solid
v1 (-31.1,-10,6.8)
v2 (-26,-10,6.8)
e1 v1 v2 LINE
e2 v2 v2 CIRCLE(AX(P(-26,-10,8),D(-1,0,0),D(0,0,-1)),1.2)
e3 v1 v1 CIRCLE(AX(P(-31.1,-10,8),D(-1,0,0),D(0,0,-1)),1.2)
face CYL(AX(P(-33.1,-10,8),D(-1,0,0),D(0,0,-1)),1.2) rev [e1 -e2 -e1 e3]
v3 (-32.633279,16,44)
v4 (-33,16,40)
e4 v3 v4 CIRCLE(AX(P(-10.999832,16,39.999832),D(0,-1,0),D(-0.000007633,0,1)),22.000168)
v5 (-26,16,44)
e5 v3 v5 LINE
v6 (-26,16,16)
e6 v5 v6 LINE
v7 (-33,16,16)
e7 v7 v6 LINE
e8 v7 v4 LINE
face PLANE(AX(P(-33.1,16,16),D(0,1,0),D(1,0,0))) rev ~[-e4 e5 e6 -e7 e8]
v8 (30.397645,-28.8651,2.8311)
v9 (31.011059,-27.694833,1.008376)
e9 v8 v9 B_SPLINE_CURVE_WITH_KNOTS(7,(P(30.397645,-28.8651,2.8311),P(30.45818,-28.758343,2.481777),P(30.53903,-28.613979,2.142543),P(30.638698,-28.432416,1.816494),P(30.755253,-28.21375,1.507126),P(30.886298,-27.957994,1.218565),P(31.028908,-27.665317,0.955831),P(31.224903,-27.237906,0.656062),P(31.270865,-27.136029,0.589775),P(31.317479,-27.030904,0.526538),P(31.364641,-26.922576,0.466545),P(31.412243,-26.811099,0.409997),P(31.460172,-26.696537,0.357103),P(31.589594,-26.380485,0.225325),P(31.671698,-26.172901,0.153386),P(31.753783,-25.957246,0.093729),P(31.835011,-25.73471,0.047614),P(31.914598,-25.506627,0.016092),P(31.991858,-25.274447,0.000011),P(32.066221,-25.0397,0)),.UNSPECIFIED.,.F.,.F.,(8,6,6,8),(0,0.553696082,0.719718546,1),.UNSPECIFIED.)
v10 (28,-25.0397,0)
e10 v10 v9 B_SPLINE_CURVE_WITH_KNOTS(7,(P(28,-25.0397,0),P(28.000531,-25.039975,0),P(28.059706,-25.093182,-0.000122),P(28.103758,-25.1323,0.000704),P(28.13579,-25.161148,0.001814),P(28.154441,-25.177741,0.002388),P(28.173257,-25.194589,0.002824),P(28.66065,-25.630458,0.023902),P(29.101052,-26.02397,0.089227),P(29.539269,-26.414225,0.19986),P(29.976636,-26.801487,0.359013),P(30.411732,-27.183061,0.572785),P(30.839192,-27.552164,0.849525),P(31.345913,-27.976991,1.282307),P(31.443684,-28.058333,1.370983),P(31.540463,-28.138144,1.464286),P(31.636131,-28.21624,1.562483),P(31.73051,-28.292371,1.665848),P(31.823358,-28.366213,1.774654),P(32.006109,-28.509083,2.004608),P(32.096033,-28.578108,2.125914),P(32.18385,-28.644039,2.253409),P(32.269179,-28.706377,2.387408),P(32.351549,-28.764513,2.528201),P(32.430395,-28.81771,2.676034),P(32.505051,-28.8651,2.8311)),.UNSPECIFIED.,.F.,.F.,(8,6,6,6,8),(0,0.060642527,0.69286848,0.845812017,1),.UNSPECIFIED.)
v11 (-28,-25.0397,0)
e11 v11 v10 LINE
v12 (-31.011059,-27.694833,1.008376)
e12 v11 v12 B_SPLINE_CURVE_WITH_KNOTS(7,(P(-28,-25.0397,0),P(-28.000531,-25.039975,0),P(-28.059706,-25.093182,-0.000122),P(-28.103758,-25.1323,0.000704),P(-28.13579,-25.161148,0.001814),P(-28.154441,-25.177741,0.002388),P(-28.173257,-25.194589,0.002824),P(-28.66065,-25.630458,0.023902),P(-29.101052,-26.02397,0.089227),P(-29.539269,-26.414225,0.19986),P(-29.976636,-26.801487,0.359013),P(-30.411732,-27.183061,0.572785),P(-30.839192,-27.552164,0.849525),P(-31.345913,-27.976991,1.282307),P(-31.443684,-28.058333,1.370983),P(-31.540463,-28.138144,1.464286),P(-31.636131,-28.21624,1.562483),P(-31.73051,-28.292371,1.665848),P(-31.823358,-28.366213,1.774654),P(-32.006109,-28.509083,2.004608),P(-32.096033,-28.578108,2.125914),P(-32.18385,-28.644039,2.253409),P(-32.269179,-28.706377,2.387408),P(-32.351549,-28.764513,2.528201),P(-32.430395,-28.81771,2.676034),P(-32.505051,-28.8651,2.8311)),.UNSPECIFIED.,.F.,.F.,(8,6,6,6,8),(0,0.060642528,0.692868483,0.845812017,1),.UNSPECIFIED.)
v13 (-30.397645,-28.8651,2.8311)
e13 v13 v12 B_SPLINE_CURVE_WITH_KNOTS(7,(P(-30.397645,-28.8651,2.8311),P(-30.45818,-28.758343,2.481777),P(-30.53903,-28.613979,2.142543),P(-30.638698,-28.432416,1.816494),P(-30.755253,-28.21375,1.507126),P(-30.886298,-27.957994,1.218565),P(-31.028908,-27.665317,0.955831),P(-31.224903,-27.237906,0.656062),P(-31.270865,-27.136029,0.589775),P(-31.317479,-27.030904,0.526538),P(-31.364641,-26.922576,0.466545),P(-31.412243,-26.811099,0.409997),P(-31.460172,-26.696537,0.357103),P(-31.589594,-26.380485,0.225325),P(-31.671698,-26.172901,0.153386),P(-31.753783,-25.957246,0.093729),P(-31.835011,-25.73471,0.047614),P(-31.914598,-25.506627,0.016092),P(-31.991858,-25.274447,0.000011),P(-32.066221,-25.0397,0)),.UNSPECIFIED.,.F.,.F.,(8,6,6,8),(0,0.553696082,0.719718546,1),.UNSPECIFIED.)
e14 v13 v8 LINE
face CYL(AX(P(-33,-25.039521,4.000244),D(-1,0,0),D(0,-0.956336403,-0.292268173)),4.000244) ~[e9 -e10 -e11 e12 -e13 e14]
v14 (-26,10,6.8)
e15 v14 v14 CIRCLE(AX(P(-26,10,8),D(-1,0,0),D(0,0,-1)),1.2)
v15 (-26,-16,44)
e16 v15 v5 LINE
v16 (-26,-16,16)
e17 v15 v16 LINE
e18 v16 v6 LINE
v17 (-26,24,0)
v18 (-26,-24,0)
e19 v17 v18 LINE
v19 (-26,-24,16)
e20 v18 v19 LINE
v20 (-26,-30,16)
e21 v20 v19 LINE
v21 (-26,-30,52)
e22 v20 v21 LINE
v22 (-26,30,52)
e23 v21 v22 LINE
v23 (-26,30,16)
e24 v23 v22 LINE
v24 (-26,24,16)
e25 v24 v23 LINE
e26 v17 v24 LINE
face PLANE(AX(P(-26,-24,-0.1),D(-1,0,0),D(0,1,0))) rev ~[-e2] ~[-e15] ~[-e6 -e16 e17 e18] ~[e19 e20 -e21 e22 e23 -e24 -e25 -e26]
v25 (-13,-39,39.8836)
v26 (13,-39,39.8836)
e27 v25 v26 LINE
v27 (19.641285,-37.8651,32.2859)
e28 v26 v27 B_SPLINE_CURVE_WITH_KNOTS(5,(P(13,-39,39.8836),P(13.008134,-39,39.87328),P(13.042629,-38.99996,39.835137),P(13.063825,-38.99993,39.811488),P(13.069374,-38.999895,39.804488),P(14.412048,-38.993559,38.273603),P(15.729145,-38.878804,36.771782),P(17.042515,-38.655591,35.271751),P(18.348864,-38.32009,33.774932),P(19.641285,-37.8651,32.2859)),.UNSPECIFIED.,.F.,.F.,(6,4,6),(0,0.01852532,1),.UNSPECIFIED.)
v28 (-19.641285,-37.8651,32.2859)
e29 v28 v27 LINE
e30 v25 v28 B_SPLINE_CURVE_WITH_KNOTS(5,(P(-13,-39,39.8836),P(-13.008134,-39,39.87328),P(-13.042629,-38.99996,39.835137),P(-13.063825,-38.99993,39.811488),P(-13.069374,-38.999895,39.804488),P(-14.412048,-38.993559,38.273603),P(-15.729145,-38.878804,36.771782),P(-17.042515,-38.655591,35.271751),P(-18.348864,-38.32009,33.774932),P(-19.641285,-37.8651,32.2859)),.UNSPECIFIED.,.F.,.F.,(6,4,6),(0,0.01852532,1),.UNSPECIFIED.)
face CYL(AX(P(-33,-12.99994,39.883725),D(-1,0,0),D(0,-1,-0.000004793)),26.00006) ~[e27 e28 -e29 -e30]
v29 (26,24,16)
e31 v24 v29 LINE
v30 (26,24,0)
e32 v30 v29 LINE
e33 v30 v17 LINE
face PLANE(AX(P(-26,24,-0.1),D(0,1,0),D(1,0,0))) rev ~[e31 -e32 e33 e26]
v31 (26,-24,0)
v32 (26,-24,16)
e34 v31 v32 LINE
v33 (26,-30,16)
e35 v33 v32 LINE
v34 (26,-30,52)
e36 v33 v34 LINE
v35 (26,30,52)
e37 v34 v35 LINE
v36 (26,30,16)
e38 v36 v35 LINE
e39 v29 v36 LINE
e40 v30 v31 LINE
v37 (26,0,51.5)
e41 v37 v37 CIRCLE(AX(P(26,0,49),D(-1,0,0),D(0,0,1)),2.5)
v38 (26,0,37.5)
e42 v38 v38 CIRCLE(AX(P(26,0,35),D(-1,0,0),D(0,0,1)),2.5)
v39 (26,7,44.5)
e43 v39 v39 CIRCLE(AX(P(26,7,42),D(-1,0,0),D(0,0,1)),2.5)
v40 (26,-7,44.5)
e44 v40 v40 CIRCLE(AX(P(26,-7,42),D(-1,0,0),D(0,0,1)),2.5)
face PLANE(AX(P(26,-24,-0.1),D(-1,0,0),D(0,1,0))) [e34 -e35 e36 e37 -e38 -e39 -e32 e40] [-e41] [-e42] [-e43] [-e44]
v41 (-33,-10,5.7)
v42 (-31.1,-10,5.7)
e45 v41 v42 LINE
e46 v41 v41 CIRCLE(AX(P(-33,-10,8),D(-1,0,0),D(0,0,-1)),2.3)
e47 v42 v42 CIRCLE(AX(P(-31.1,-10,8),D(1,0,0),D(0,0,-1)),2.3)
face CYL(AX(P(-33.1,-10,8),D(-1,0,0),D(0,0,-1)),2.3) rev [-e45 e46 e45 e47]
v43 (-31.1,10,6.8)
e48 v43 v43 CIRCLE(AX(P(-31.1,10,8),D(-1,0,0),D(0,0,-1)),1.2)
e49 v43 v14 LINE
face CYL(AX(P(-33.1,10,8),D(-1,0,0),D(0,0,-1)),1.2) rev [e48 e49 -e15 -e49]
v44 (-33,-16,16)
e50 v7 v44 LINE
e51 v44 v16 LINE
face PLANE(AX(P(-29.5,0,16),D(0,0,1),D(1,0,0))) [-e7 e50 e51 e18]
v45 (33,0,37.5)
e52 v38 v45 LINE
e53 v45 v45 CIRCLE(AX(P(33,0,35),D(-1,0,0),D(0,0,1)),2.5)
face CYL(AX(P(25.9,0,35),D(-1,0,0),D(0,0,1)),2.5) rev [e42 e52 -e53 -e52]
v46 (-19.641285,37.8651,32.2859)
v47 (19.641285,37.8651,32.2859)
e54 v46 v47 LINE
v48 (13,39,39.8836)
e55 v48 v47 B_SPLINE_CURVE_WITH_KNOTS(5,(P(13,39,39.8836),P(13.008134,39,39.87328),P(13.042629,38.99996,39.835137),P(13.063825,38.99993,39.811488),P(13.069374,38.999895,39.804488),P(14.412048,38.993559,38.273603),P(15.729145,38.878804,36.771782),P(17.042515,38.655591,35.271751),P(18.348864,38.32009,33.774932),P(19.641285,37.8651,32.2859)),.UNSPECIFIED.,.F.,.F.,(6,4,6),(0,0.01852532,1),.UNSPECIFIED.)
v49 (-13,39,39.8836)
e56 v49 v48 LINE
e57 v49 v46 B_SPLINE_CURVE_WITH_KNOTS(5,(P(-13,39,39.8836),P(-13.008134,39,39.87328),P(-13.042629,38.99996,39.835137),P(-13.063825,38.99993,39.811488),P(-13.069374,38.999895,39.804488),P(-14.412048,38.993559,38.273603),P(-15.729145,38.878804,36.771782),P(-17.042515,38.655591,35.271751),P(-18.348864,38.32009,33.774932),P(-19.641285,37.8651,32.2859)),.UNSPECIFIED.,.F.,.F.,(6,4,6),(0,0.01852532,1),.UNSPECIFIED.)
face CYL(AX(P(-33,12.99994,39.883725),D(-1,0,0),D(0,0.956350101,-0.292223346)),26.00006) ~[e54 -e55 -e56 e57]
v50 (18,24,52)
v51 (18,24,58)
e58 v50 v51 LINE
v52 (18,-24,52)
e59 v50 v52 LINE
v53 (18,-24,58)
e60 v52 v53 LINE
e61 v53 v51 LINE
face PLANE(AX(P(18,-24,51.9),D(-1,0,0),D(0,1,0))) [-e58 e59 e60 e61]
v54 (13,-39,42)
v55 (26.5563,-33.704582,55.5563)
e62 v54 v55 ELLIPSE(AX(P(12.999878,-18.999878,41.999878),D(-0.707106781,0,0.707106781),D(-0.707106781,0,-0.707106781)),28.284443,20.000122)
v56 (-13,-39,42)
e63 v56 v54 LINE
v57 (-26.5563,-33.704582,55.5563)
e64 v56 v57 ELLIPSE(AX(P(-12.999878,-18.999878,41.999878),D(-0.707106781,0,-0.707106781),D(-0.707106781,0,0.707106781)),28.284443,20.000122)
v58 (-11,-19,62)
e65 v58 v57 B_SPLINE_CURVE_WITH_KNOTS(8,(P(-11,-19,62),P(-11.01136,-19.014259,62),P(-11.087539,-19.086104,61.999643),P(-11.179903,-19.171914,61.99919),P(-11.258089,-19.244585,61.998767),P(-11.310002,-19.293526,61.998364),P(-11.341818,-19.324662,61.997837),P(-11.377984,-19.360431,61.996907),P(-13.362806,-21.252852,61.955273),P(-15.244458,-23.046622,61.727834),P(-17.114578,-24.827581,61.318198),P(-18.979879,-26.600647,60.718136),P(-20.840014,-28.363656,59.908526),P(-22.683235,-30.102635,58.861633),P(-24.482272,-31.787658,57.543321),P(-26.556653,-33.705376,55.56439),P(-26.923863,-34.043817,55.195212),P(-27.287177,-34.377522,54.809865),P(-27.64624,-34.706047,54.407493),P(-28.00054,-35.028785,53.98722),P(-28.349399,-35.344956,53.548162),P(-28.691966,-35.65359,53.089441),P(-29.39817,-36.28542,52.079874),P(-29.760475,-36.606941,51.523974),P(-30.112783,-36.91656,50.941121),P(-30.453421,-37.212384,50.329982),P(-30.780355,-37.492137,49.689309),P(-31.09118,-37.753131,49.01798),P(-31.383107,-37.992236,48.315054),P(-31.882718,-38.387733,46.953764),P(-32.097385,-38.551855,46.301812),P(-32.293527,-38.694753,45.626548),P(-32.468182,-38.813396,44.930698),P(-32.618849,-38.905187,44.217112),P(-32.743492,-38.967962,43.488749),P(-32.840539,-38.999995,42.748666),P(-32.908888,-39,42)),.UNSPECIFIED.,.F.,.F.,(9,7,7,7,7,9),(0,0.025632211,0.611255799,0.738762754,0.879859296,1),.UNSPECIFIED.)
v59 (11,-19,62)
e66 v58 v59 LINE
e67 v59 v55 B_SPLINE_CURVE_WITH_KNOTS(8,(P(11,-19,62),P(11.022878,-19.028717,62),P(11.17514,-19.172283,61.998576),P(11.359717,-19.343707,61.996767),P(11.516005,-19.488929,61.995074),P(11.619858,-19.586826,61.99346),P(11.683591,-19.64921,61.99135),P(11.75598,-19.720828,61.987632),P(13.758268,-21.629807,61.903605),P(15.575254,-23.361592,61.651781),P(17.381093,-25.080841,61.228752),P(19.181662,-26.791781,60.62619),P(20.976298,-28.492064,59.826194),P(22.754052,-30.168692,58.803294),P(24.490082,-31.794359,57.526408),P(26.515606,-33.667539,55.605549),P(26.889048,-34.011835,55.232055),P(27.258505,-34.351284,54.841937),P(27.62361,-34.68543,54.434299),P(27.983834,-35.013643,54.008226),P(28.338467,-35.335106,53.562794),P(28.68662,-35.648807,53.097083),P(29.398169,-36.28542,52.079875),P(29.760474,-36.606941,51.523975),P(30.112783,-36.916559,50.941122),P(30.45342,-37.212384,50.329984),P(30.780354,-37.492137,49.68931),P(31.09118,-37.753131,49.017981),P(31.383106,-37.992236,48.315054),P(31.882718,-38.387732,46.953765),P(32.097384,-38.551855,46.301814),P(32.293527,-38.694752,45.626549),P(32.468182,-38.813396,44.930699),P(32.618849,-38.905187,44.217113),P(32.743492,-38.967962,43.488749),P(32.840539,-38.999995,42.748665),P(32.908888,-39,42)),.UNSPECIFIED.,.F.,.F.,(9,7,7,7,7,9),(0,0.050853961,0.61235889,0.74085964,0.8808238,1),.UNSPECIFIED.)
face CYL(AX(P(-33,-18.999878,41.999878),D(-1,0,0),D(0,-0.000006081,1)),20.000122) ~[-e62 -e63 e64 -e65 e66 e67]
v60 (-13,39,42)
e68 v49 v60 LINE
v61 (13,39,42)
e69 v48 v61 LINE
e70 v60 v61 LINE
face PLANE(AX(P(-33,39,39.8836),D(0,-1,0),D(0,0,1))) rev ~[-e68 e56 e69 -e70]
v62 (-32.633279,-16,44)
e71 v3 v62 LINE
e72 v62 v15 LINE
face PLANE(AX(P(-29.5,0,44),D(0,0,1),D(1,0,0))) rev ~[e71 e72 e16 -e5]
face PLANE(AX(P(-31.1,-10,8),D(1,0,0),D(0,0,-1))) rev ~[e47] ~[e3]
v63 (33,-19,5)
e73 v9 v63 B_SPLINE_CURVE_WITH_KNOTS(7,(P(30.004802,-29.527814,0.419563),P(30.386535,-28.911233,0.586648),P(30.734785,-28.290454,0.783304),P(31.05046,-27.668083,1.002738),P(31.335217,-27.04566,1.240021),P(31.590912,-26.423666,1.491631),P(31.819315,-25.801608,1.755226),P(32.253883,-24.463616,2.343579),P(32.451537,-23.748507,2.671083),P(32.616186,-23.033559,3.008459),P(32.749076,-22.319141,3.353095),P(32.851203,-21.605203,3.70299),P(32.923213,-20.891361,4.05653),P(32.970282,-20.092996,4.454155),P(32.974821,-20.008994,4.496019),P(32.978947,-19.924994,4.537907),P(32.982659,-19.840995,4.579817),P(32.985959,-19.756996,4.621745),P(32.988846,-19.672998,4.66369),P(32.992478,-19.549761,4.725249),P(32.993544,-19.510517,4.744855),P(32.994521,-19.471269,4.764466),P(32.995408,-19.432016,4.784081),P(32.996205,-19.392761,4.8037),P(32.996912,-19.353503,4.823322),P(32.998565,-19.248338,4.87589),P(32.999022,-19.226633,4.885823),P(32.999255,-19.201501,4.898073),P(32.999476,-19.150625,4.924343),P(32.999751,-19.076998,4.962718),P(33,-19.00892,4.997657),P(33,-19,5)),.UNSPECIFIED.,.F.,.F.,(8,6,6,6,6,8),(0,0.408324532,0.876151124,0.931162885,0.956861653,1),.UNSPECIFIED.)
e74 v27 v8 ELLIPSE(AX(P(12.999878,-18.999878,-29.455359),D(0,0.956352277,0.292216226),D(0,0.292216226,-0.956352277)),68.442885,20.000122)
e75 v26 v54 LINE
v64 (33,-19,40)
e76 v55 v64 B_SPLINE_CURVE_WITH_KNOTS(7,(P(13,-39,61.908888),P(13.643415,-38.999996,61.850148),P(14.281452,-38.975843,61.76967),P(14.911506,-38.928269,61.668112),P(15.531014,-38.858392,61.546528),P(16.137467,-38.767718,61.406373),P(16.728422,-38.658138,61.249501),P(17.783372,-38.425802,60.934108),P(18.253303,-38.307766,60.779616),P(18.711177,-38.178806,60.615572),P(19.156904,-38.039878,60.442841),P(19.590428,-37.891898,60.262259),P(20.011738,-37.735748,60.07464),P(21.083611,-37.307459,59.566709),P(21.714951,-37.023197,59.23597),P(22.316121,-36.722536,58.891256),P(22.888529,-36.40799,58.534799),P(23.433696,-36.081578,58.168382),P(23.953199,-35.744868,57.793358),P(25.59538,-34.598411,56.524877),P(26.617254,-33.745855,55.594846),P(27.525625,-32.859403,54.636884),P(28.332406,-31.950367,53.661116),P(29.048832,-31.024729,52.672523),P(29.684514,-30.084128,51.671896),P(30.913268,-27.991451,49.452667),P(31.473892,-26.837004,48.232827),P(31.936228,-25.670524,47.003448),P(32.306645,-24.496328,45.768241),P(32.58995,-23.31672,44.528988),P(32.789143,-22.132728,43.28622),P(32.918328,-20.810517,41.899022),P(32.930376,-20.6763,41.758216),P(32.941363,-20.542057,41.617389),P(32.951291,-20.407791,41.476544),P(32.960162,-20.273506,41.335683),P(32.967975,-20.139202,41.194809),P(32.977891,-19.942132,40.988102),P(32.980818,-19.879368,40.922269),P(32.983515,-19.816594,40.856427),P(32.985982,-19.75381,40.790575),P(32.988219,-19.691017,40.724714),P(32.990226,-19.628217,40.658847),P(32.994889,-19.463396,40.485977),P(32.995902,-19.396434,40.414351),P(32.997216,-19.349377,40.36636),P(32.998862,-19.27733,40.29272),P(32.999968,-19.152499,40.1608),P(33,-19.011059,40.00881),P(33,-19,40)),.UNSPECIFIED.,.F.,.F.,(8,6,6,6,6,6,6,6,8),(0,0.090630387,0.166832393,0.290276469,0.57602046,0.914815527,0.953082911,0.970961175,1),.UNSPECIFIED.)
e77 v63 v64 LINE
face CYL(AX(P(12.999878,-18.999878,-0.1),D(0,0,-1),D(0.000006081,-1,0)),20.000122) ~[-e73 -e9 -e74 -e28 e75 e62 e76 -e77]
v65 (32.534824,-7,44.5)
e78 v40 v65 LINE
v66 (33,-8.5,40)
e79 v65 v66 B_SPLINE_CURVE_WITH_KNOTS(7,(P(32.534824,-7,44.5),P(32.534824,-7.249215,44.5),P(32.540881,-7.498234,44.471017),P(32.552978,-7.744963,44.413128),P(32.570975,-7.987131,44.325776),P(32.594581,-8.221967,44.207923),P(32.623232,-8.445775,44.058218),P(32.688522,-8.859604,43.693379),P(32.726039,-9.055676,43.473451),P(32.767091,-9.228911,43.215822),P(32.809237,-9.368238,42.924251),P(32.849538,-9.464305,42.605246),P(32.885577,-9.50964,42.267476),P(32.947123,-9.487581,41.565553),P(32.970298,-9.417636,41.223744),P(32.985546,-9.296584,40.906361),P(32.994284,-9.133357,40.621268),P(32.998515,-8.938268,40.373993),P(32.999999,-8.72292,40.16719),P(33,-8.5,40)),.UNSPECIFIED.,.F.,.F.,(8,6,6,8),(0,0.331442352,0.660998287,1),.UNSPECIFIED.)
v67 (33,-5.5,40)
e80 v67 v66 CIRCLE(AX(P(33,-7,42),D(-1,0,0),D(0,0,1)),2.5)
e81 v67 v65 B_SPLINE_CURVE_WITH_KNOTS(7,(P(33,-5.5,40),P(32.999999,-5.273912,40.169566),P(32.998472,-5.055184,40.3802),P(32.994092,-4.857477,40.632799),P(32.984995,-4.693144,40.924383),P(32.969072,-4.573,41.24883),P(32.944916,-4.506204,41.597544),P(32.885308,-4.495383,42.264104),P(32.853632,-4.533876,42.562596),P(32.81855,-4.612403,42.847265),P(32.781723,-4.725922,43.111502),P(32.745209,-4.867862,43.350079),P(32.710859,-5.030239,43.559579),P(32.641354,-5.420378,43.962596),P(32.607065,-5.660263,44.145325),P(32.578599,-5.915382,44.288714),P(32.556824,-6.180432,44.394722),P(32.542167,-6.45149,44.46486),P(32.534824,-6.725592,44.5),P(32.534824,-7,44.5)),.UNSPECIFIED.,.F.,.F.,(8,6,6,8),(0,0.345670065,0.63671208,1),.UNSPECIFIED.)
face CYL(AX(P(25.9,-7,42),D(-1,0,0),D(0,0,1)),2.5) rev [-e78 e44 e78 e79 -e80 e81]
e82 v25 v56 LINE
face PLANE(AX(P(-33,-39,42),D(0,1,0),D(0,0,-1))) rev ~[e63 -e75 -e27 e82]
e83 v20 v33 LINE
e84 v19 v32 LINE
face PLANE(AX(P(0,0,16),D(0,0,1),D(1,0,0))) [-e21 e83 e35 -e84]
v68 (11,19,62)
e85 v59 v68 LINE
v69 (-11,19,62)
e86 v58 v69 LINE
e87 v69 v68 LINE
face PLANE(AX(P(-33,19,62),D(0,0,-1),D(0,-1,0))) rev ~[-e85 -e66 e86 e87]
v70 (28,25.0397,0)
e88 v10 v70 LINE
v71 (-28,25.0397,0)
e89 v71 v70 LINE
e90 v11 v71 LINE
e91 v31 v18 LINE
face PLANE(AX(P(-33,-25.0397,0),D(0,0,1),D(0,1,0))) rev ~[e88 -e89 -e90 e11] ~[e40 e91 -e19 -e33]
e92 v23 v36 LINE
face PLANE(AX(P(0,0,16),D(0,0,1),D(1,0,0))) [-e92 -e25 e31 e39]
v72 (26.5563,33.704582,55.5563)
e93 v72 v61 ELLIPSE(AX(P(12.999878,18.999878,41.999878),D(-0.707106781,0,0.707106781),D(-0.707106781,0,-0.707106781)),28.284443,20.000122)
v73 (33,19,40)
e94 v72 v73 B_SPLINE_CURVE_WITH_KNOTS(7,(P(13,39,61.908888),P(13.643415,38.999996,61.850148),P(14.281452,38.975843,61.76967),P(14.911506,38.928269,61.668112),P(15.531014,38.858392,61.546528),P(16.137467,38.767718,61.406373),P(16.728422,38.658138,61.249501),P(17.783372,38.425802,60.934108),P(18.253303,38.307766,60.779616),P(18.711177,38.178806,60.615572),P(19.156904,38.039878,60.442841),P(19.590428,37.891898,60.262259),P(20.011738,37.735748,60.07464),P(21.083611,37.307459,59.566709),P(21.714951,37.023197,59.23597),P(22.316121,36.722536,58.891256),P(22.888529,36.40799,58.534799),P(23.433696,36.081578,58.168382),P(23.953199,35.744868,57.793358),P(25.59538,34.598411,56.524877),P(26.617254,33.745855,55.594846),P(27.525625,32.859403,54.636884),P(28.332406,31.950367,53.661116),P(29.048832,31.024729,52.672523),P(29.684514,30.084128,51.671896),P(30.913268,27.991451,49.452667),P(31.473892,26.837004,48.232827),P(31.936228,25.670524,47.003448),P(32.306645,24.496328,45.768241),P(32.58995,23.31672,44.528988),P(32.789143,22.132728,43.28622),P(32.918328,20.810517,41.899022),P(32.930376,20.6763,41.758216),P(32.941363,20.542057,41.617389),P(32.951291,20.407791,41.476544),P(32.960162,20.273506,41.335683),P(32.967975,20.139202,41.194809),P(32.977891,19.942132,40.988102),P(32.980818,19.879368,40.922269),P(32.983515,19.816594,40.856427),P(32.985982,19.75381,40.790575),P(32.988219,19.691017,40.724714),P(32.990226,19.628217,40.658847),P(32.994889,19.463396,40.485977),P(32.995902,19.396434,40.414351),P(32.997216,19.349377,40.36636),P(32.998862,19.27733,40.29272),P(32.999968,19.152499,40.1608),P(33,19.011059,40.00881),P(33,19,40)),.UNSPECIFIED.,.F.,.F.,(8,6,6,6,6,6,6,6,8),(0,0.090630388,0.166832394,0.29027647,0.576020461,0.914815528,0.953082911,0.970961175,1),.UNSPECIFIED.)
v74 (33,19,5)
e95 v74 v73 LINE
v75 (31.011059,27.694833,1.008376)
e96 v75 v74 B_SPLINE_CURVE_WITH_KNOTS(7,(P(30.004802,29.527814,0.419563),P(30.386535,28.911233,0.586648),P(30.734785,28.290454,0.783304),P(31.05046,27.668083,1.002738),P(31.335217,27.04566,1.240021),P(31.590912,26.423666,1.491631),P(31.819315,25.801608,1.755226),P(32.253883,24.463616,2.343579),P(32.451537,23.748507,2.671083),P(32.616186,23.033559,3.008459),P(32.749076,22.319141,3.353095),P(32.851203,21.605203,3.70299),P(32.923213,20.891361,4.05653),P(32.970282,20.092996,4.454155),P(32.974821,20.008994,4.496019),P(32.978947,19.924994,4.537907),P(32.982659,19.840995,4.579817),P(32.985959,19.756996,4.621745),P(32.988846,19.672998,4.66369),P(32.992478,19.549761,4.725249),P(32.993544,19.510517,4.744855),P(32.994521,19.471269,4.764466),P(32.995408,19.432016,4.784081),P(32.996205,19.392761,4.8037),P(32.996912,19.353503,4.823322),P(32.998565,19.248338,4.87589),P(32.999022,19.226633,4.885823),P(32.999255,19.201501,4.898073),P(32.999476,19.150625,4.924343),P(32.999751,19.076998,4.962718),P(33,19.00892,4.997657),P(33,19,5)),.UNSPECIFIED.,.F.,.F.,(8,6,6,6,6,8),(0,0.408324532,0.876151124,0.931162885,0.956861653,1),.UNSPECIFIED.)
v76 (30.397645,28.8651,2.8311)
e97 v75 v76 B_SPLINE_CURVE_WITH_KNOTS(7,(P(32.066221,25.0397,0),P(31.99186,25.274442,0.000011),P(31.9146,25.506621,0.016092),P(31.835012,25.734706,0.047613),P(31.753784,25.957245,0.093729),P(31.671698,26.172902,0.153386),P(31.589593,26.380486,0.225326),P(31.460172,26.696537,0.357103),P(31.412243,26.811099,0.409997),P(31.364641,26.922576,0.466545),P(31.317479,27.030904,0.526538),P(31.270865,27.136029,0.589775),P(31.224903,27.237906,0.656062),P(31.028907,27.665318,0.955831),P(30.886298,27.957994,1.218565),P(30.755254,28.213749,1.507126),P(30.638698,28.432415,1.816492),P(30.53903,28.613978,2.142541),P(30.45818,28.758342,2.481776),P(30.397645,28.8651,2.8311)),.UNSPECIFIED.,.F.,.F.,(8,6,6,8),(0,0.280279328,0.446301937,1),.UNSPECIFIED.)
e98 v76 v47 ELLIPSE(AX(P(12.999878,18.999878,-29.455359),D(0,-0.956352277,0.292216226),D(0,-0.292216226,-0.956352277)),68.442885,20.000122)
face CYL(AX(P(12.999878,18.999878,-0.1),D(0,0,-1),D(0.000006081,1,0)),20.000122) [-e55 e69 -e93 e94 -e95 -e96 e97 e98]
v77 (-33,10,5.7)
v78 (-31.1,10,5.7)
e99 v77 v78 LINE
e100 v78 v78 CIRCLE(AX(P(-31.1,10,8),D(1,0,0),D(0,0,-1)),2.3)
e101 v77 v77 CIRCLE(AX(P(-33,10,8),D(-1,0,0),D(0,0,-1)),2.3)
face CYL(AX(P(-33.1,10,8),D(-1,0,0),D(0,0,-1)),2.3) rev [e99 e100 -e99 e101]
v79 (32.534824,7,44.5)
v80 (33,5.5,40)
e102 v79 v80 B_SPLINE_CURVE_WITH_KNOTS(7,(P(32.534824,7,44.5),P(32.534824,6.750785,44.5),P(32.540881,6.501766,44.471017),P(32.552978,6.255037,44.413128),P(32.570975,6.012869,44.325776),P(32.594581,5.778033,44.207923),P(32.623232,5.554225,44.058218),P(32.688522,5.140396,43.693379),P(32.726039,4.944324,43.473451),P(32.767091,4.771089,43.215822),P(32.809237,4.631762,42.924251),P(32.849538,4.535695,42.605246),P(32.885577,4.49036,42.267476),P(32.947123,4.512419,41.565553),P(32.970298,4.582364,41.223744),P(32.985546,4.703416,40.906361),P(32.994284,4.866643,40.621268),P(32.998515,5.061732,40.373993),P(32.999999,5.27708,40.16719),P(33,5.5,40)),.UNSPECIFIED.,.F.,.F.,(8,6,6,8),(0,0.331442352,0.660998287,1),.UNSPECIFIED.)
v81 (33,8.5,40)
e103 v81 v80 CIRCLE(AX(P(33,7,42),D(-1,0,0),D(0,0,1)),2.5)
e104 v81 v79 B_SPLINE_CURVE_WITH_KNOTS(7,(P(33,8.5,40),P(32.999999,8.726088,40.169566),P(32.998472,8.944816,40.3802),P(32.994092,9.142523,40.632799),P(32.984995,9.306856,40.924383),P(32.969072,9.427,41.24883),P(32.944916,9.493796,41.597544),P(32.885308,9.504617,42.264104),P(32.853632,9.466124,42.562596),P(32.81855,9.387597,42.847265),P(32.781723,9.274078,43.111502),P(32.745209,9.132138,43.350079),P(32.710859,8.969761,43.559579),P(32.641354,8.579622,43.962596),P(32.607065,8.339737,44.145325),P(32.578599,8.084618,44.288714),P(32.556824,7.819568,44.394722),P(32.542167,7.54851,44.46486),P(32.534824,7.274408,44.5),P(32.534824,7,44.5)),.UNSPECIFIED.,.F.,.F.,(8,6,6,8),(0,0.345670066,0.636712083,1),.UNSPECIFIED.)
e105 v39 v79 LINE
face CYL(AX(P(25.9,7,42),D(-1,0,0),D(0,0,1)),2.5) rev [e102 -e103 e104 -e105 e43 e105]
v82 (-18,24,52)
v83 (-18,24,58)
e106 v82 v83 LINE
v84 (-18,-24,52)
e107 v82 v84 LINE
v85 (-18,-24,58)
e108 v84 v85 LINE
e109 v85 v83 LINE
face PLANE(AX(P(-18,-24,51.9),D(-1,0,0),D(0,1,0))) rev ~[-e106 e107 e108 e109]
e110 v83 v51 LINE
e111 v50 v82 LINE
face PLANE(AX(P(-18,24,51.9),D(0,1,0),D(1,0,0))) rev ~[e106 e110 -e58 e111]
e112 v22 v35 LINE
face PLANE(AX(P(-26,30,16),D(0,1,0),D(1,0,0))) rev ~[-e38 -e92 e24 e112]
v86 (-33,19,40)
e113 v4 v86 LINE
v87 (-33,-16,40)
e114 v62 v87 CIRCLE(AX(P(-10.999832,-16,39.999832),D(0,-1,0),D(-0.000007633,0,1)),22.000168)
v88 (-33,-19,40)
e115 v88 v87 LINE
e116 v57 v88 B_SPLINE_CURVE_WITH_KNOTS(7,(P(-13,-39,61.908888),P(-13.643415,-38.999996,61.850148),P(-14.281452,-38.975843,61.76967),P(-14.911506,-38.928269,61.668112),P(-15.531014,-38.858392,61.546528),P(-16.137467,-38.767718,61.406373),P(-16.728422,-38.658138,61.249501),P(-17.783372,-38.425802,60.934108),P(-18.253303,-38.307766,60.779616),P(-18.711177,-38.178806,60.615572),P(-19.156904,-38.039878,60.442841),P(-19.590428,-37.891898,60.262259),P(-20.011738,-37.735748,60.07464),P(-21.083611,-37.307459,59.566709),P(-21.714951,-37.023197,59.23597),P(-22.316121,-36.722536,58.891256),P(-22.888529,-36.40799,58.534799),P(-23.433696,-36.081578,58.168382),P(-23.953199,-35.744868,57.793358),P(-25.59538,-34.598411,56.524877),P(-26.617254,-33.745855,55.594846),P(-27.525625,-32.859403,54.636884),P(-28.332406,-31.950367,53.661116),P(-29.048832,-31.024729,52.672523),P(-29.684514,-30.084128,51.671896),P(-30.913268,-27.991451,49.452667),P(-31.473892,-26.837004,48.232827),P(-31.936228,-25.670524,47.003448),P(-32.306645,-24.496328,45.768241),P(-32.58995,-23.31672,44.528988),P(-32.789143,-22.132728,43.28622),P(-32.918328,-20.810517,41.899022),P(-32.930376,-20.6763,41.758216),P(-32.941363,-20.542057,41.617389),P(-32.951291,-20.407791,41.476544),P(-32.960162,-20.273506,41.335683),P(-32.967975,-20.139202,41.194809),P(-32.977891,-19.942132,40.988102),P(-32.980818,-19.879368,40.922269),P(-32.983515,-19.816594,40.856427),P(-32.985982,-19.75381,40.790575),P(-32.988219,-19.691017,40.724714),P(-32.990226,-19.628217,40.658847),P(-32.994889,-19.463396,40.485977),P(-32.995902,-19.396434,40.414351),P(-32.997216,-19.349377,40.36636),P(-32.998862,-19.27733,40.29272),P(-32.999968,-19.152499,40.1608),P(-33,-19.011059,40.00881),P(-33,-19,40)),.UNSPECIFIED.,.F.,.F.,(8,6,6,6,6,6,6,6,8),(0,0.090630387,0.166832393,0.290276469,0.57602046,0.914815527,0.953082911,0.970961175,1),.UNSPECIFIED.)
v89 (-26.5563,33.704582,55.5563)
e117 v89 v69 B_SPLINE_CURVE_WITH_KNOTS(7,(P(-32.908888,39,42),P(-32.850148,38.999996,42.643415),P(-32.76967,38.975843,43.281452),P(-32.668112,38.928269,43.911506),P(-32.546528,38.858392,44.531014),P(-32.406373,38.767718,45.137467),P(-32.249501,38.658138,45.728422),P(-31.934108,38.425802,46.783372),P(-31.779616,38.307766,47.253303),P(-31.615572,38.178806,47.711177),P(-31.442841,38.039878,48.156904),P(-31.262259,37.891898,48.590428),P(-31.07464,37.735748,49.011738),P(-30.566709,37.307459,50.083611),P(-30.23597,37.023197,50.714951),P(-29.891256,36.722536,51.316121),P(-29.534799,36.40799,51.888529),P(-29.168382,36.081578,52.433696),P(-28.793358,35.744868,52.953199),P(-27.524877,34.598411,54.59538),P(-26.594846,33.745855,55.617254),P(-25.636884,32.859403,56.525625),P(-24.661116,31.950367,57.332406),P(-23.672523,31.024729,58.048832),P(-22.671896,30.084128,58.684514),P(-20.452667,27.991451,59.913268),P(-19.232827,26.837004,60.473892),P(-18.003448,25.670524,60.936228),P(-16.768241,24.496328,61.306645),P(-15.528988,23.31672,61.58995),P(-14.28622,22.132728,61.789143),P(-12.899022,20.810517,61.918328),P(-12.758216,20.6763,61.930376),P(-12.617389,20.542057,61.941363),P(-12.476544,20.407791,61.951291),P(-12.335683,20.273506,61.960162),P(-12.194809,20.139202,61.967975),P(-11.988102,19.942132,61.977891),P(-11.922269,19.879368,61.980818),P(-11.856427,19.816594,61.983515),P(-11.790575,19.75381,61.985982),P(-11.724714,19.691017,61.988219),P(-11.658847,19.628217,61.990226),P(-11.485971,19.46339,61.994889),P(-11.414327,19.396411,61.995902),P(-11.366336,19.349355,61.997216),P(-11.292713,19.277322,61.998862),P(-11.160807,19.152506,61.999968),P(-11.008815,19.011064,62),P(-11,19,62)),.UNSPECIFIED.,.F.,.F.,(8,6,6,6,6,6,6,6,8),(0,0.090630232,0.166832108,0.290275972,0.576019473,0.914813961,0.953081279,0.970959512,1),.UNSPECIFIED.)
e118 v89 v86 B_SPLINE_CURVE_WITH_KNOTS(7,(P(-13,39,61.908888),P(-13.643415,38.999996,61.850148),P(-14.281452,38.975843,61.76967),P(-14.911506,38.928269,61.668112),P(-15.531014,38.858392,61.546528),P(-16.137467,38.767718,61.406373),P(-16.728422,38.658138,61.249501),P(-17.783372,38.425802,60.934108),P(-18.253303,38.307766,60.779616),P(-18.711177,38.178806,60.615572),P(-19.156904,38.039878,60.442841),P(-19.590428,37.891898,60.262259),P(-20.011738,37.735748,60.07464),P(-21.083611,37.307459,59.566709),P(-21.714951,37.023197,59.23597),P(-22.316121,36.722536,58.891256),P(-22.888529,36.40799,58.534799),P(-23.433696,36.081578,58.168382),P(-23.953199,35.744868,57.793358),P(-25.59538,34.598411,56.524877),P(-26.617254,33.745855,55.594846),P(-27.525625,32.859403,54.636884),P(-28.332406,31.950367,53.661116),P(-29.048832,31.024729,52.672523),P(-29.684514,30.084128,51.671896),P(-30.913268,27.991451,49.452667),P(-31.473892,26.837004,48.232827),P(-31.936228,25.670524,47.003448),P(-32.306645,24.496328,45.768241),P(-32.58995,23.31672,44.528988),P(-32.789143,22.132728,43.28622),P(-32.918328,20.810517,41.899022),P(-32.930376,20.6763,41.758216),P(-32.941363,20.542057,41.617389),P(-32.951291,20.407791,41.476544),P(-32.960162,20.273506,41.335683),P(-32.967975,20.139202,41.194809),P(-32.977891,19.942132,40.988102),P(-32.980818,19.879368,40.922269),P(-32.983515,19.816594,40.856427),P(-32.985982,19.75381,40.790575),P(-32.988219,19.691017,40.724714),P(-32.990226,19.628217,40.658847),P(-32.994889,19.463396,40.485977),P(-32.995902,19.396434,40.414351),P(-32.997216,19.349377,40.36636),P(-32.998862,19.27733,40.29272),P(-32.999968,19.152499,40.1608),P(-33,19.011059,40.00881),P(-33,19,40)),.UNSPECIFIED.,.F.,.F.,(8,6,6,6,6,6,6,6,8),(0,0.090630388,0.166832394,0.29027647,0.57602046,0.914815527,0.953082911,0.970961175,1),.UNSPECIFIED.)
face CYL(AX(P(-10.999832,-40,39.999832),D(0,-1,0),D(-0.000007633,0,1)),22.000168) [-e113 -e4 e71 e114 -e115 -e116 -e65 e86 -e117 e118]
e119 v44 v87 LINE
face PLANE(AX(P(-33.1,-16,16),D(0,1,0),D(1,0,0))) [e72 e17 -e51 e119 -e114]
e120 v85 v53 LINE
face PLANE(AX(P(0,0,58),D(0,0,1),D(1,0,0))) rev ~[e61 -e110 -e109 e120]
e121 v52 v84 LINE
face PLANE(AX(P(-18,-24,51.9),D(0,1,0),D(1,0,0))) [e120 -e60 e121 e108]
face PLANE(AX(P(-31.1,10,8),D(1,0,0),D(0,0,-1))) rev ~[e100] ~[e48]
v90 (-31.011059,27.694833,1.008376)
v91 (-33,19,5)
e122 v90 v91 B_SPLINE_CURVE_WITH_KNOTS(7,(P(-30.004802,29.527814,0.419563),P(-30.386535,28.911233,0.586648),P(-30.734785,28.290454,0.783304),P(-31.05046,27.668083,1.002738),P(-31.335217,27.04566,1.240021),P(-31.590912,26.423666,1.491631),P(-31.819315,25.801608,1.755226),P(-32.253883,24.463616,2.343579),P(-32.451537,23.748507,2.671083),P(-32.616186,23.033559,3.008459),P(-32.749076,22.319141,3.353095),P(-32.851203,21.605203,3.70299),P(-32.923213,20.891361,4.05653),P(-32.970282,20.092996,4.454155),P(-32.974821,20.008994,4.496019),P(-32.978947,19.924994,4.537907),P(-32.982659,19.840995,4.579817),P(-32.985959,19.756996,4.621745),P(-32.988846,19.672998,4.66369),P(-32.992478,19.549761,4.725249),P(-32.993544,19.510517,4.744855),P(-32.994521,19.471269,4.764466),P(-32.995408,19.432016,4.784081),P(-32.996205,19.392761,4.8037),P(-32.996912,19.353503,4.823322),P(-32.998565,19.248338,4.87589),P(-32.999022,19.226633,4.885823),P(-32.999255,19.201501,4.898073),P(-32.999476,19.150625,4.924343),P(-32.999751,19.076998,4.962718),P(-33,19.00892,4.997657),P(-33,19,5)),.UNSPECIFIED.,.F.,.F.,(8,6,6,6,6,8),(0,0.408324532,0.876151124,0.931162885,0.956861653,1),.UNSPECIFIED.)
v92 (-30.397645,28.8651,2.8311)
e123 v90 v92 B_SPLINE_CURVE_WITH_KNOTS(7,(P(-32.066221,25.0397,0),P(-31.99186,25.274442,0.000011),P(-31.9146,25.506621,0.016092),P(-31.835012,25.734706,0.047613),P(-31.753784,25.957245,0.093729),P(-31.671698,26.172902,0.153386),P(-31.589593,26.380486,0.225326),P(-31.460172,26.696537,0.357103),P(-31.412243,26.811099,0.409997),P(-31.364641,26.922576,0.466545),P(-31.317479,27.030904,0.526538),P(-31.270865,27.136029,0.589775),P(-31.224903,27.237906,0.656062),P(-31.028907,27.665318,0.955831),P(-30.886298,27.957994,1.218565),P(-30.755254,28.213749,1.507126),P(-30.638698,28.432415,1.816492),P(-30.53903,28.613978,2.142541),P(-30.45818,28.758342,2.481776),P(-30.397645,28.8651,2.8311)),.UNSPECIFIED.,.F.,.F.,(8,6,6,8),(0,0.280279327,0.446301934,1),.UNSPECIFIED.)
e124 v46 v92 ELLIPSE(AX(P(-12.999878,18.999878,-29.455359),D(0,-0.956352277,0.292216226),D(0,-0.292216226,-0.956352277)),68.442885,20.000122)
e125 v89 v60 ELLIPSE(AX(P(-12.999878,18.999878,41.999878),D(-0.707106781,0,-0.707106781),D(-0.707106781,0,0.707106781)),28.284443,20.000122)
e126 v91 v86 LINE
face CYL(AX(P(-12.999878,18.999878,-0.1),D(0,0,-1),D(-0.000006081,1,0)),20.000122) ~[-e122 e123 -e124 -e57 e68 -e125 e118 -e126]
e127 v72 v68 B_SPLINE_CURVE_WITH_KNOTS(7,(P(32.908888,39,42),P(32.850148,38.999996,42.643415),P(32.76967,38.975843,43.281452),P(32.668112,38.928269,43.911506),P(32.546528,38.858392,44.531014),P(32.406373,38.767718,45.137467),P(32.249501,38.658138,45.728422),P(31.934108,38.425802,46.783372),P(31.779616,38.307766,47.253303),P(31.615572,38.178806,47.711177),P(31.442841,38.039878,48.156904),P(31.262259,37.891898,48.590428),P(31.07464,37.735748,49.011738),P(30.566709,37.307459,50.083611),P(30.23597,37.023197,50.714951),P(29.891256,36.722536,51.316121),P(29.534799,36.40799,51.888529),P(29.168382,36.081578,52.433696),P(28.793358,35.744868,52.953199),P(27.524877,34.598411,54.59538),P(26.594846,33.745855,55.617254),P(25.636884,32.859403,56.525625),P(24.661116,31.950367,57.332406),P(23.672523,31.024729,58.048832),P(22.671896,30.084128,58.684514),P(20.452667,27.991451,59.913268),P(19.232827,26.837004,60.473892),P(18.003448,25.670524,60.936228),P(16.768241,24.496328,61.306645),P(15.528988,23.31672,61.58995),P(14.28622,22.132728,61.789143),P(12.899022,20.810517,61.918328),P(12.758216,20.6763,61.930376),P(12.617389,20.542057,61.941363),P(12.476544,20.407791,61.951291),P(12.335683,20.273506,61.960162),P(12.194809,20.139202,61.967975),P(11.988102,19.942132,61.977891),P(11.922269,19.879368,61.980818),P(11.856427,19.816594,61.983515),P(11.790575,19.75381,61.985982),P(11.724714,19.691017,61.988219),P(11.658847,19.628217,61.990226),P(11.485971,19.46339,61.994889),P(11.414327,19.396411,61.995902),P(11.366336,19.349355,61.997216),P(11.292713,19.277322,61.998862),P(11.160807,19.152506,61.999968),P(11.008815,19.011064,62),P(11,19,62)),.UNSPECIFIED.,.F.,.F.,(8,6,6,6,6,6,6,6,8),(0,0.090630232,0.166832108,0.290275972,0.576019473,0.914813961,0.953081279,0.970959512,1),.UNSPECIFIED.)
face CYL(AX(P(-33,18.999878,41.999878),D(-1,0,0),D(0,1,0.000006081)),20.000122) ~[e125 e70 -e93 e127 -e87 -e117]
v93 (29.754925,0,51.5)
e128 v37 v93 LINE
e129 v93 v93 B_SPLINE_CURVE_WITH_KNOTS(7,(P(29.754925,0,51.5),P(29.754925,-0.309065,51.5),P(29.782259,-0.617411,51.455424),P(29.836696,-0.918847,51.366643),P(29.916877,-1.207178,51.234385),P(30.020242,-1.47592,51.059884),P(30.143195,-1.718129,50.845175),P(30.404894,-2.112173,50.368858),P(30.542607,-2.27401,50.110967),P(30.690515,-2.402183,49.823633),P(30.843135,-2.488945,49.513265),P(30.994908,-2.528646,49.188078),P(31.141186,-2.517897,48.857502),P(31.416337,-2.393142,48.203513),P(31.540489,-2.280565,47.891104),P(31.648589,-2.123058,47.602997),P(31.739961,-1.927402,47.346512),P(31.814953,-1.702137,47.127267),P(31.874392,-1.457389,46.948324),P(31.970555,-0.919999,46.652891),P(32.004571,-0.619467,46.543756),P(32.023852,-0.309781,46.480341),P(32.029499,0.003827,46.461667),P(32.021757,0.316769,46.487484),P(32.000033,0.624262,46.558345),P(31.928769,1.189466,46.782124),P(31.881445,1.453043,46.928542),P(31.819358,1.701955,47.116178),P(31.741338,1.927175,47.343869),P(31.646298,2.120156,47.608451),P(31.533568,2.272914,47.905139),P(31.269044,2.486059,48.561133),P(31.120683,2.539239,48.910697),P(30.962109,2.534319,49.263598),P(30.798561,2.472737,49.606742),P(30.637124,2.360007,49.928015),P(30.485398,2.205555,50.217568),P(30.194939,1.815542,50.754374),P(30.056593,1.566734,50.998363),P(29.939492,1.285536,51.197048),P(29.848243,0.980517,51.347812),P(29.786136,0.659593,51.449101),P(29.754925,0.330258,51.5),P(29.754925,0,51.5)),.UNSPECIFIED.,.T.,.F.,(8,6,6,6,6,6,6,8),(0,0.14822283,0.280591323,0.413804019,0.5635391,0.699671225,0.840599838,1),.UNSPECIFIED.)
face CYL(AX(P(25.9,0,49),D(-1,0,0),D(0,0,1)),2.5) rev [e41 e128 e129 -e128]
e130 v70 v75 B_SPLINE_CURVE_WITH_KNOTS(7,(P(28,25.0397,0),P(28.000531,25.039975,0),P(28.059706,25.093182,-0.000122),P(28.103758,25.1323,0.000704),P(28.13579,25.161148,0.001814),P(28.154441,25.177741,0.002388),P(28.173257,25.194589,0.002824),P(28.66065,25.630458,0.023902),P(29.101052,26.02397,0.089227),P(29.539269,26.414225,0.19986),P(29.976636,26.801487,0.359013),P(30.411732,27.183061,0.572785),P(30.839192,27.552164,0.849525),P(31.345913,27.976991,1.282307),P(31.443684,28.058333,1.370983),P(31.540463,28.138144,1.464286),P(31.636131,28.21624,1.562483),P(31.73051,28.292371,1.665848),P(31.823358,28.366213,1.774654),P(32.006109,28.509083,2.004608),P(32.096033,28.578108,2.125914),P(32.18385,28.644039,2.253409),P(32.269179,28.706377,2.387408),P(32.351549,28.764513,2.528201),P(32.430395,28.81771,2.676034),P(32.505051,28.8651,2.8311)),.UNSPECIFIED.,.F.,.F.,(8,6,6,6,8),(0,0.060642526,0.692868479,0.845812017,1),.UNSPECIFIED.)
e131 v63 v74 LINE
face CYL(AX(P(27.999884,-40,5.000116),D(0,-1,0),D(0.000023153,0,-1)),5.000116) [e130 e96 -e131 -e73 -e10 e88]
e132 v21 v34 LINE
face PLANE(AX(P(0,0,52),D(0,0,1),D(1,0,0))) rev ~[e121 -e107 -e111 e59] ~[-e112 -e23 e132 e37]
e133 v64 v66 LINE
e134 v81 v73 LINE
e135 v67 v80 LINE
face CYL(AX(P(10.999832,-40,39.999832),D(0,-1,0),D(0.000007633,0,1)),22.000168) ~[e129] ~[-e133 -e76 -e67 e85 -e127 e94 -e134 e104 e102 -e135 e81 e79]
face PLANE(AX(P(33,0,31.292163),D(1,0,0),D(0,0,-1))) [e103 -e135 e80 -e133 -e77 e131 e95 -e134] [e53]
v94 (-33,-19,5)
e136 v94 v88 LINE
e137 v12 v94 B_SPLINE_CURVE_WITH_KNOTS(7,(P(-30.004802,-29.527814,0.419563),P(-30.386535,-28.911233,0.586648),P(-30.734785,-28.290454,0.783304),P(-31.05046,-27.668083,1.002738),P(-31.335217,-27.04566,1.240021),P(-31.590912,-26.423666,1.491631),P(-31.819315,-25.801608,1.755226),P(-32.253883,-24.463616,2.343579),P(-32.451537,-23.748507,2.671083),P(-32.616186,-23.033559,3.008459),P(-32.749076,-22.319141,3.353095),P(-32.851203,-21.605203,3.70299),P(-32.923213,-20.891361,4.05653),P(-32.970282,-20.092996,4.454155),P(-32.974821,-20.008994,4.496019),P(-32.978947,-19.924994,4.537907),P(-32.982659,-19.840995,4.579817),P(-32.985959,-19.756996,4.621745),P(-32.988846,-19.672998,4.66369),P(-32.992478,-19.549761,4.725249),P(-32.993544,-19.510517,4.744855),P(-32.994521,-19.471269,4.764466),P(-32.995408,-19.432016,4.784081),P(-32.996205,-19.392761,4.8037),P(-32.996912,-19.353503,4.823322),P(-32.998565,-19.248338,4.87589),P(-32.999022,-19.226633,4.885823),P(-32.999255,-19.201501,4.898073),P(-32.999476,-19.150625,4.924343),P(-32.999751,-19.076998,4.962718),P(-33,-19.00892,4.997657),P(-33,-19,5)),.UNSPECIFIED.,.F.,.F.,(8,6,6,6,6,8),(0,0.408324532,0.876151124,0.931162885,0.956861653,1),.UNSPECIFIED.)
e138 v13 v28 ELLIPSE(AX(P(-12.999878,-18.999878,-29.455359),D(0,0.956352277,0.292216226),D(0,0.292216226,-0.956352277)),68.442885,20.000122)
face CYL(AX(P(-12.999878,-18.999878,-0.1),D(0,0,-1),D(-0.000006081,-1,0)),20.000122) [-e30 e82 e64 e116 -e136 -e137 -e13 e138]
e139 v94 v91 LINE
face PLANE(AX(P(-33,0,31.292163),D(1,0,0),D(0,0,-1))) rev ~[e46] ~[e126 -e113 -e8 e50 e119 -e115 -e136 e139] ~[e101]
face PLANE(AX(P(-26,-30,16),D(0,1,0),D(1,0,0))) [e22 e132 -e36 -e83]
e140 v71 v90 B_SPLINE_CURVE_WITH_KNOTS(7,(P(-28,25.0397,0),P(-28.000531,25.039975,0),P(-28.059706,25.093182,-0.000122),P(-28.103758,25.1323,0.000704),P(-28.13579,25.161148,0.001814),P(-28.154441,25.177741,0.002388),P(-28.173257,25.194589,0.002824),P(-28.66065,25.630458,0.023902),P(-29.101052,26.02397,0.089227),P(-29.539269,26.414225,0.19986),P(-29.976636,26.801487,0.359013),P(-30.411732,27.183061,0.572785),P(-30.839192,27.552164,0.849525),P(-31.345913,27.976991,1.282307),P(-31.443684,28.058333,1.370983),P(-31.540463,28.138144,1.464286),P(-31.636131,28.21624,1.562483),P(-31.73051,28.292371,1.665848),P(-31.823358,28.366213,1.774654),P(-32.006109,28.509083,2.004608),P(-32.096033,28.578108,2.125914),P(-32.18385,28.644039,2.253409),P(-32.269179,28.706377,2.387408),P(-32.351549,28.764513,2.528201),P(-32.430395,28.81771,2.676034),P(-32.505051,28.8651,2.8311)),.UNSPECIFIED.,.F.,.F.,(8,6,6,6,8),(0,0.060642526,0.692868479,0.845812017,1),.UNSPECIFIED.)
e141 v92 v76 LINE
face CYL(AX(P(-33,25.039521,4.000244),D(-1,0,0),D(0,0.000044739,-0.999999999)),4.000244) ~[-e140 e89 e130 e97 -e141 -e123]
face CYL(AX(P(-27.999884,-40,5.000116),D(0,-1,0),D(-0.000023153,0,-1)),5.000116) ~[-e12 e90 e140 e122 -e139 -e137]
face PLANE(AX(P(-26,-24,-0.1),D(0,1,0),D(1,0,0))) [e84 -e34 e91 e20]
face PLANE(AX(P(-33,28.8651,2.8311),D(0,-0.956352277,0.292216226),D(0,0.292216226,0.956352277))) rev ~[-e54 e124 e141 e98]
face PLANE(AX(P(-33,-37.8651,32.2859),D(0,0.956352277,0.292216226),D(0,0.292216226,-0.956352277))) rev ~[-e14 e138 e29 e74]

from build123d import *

# Parameters (mm, degrees)
BOSS_1_DEPTH    = 66
CUT_2_DEPTH     = 80
CUT_3_DEPTH     = 80
CUT_4_DEPTH     = 80
CUT_5_DEPTH     = 80
CUT_6_DEPTH     = 62.2
CUT_7_DEPTH     = 62.2
CUT_8_DEPTH     = 62.2
CUT_9_DEPTH     = 62.2
S_CUT10_W       = 52
S_CUT10_H       = 48
POCKET_10_DEPTH = 16.2
S_CUT11_W       = 52
S_CUT11_H       = 60
POCKET_11_DEPTH = 36
S_CUT12_W       = 36
S_CUT12_H       = 48
POCKET_12_DEPTH = 6.1
S_CUT13_W       = 7.2
S_CUT13_H       = 32
POCKET_13_DEPTH = 28
S_HOLE14_R      = 2.5
HOLE_14_DEPTH   = 7.2
S_HOLE15_R      = 2.5
HOLE_15_DEPTH   = 7.2
S_HOLE16_R      = 2.5
HOLE_16_DEPTH   = 7.2
S_HOLE17_R      = 2.5
HOLE_17_DEPTH   = 7.2
S_HOLE18_R      = 1.2
HOLE_18_DEPTH   = 7.2
S_HOLE19_R      = 2.3
HOLE_19_DEPTH   = 2
S_HOLE20_R      = 1.2
HOLE_20_DEPTH   = 7.2
S_HOLE21_R      = 2.3
HOLE_21_DEPTH   = 2


with BuildPart() as part:
    # S_prism1 → Boss_1 (new body)
    with BuildSketch(Plane(origin=(-33, 0, 0), x_dir=(0, 0, -1), z_dir=(1, 0, 0))):
        with BuildLine():
            Line((0, -25.0397), (0, 25.0397))
            ThreePointArc((0, 25.0397), (-0.784802451, 27.419203311), (-2.8311, 28.8651))
            Line((-2.8311, 28.8651), (-32.2859, 37.8651))
            ThreePointArc((-32.2859, 37.8651), (-36.042603994, 38.714700597), (-39.8836, 39))
            Line((-39.8836, 39), (-42, 39))
            ThreePointArc((-42, 39), (-56.1421, 33.1421), (-62, 19))
            Line((-62, 19), (-62, -19))
            ThreePointArc((-62, -19), (-56.1421, -33.1421), (-42, -39))
            Line((-42, -39), (-39.8836, -39))
            ThreePointArc((-39.8836, -39), (-36.042603994, -38.714700597), (-32.2859, -37.8651))
            Line((-32.2859, -37.8651), (-2.8311, -28.8651))
            ThreePointArc((-2.8311, -28.8651), (-0.784802451, -27.419203311), (0, -25.0397))
        make_face()
    extrude(amount=BOSS_1_DEPTH)

    # S_pcut2 → Cut_2 (cut)
    with BuildSketch(Plane(origin=(0, -40, 0), x_dir=(1, 0, 0), z_dir=(0, 1, 0))):
        with BuildLine():
            Line((33.6, -62.6), (11, -62.6))
            Line((11, -62.6), (11, -62))
            ThreePointArc((11, -62), (26.5563, -55.5563), (33, -40))
            Line((33, -40), (33.6, -40))
            Line((33.6, -40), (33.6, -62.6))
        make_face()
    extrude(amount=CUT_2_DEPTH, mode=Mode.SUBTRACT)

    # S_pcut3 → Cut_3 (cut)
    with BuildSketch(Plane(origin=(0, -40, 0), x_dir=(1, 0, 0), z_dir=(0, 1, 0))):
        with BuildLine():
            Line((-33.6, -62.6), (-11, -62.6))
            Line((-11, -62.6), (-11, -62))
            ThreePointArc((-11, -62), (-26.5563, -55.5563), (-33, -40))
            Line((-33, -40), (-33.6, -40))
            Line((-33.6, -40), (-33.6, -62.6))
        make_face()
    extrude(amount=CUT_3_DEPTH, mode=Mode.SUBTRACT)

    # S_pcut4 → Cut_4 (cut)
    with BuildSketch(Plane(origin=(0, -40, 0), x_dir=(1, 0, 0), z_dir=(0, 1, 0))):
        with BuildLine():
            Line((33.6, 0.6), (28, 0.6))
            Line((28, 0.6), (28, 0))
            ThreePointArc((28, 0), (31.5355, -1.4645), (33, -5))
            Line((33, -5), (33.6, -5))
            Line((33.6, -5), (33.6, 0.6))
        make_face()
    extrude(amount=CUT_4_DEPTH, mode=Mode.SUBTRACT)

    # S_pcut5 → Cut_5 (cut)
    with BuildSketch(Plane(origin=(0, -40, 0), x_dir=(1, 0, 0), z_dir=(0, 1, 0))):
        with BuildLine():
            Line((-33.6, 0.6), (-28, 0.6))
            Line((-28, 0.6), (-28, 0))
            ThreePointArc((-28, 0), (-31.5355, -1.4645), (-33, -5))
            Line((-33, -5), (-33.6, -5))
            Line((-33.6, -5), (-33.6, 0.6))
        make_face()
    extrude(amount=CUT_5_DEPTH, mode=Mode.SUBTRACT)

    # S_pcut6 → Cut_6 (cut)
    with BuildSketch(Plane.XY.offset(-0.1)):
        with BuildLine():
            Line((33.6, 39.6), (13, 39.6))
            Line((13, 39.6), (13, 39))
            ThreePointArc((13, 39), (27.1421, 33.1421), (33, 19))
            Line((33, 19), (33.6, 19))
            Line((33.6, 19), (33.6, 39.6))
        make_face()
    extrude(amount=CUT_6_DEPTH, mode=Mode.SUBTRACT)

    # S_pcut7 → Cut_7 (cut)
    with BuildSketch(Plane.XY.offset(-0.1)):
        with BuildLine():
            Line((33.6, -39.6), (13, -39.6))
            Line((13, -39.6), (13, -39))
            ThreePointArc((13, -39), (27.1421, -33.1421), (33, -19))
            Line((33, -19), (33.6, -19))
            Line((33.6, -19), (33.6, -39.6))
        make_face()
    extrude(amount=CUT_7_DEPTH, mode=Mode.SUBTRACT)

    # S_pcut8 → Cut_8 (cut)
    with BuildSketch(Plane.XY.offset(-0.1)):
        with BuildLine():
            Line((-33.6, 39.6), (-13, 39.6))
            Line((-13, 39.6), (-13, 39))
            ThreePointArc((-13, 39), (-27.1421, 33.1421), (-33, 19))
            Line((-33, 19), (-33.6, 19))
            Line((-33.6, 19), (-33.6, 39.6))
        make_face()
    extrude(amount=CUT_8_DEPTH, mode=Mode.SUBTRACT)

    # S_pcut9 → Cut_9 (cut)
    with BuildSketch(Plane.XY.offset(-0.1)):
        with BuildLine():
            Line((-33.6, -39.6), (-13, -39.6))
            Line((-13, -39.6), (-13, -39))
            ThreePointArc((-13, -39), (-27.1421, -33.1421), (-33, -19))
            Line((-33, -19), (-33.6, -19))
            Line((-33.6, -19), (-33.6, -39.6))
        make_face()
    extrude(amount=CUT_9_DEPTH, mode=Mode.SUBTRACT)

    # S_cut10 → Pocket_10 (cut)
    with BuildSketch(Plane.XY.offset(-0.1)):
        Rectangle(S_CUT10_W, S_CUT10_H)
    extrude(amount=POCKET_10_DEPTH, mode=Mode.SUBTRACT)

    # S_cut11 → Pocket_11 (cut)
    with BuildSketch(Plane.XY.offset(16)):
        Rectangle(S_CUT11_W, S_CUT11_H)
    extrude(amount=POCKET_11_DEPTH, mode=Mode.SUBTRACT)

    # S_cut12 → Pocket_12 (cut)
    with BuildSketch(Plane.XY.offset(51.9)):
        Rectangle(S_CUT12_W, S_CUT12_H)
    extrude(amount=POCKET_12_DEPTH, mode=Mode.SUBTRACT)

    # S_cut13 → Pocket_13 (cut)
    with BuildSketch(Plane.XY.offset(16)):
        with Locations((-29.5, 0)):
            Rectangle(S_CUT13_W, S_CUT13_H)
    extrude(amount=POCKET_13_DEPTH, mode=Mode.SUBTRACT)

    # S_hole14 → Hole_14 (cut)
    with BuildSketch(Plane(origin=(25.9, 0, 0), x_dir=(0, 0, -1), z_dir=(1, 0, 0))):
        with Locations(Location((-49, 0, 0), (0, 0, 180))):
            Circle(S_HOLE14_R)
    extrude(amount=HOLE_14_DEPTH, mode=Mode.SUBTRACT)

    # S_hole15 → Hole_15 (cut)
    with BuildSketch(Plane(origin=(25.9, 0, 0), x_dir=(0, 0, -1), z_dir=(1, 0, 0))):
        with Locations(Location((-42, 7, 0), (0, 0, 180))):
            Circle(S_HOLE15_R)
    extrude(amount=HOLE_15_DEPTH, mode=Mode.SUBTRACT)

    # S_hole16 → Hole_16 (cut)
    with BuildSketch(Plane(origin=(25.9, 0, 0), x_dir=(0, 0, -1), z_dir=(1, 0, 0))):
        with Locations(Location((-42, -7, 0), (0, 0, 180))):
            Circle(S_HOLE16_R)
    extrude(amount=HOLE_16_DEPTH, mode=Mode.SUBTRACT)

    # S_hole17 → Hole_17 (cut)
    with BuildSketch(Plane(origin=(25.9, 0, 0), x_dir=(0, 0, -1), z_dir=(1, 0, 0))):
        with Locations(Location((-35, 0, 0), (0, 0, 180))):
            Circle(S_HOLE17_R)
    extrude(amount=HOLE_17_DEPTH, mode=Mode.SUBTRACT)

    # S_hole18 → Hole_18 (cut)
    with BuildSketch(Plane(origin=(-33.1, 0, 0), x_dir=(0, 0, -1), z_dir=(1, 0, 0))):
        with Locations((-8, -10)):
            Circle(S_HOLE18_R)
    extrude(amount=HOLE_18_DEPTH, mode=Mode.SUBTRACT)

    # S_hole19 → Hole_19 (cut)
    with BuildSketch(Plane(origin=(-33.1, 0, 0), x_dir=(0, 0, -1), z_dir=(1, 0, 0))):
        with Locations((-8, -10)):
            Circle(S_HOLE19_R)
    extrude(amount=HOLE_19_DEPTH, mode=Mode.SUBTRACT)

    # S_hole20 → Hole_20 (cut)
    with BuildSketch(Plane(origin=(-33.1, 0, 0), x_dir=(0, 0, -1), z_dir=(1, 0, 0))):
        with Locations((-8, 10)):
            Circle(S_HOLE20_R)
    extrude(amount=HOLE_20_DEPTH, mode=Mode.SUBTRACT)

    # S_hole21 → Hole_21 (cut)
    with BuildSketch(Plane(origin=(-33.1, 0, 0), x_dir=(0, 0, -1), z_dir=(1, 0, 0))):
        with Locations((-8, 10)):
            Circle(S_HOLE21_R)
    extrude(amount=HOLE_21_DEPTH, mode=Mode.SUBTRACT)


solid = part.part
